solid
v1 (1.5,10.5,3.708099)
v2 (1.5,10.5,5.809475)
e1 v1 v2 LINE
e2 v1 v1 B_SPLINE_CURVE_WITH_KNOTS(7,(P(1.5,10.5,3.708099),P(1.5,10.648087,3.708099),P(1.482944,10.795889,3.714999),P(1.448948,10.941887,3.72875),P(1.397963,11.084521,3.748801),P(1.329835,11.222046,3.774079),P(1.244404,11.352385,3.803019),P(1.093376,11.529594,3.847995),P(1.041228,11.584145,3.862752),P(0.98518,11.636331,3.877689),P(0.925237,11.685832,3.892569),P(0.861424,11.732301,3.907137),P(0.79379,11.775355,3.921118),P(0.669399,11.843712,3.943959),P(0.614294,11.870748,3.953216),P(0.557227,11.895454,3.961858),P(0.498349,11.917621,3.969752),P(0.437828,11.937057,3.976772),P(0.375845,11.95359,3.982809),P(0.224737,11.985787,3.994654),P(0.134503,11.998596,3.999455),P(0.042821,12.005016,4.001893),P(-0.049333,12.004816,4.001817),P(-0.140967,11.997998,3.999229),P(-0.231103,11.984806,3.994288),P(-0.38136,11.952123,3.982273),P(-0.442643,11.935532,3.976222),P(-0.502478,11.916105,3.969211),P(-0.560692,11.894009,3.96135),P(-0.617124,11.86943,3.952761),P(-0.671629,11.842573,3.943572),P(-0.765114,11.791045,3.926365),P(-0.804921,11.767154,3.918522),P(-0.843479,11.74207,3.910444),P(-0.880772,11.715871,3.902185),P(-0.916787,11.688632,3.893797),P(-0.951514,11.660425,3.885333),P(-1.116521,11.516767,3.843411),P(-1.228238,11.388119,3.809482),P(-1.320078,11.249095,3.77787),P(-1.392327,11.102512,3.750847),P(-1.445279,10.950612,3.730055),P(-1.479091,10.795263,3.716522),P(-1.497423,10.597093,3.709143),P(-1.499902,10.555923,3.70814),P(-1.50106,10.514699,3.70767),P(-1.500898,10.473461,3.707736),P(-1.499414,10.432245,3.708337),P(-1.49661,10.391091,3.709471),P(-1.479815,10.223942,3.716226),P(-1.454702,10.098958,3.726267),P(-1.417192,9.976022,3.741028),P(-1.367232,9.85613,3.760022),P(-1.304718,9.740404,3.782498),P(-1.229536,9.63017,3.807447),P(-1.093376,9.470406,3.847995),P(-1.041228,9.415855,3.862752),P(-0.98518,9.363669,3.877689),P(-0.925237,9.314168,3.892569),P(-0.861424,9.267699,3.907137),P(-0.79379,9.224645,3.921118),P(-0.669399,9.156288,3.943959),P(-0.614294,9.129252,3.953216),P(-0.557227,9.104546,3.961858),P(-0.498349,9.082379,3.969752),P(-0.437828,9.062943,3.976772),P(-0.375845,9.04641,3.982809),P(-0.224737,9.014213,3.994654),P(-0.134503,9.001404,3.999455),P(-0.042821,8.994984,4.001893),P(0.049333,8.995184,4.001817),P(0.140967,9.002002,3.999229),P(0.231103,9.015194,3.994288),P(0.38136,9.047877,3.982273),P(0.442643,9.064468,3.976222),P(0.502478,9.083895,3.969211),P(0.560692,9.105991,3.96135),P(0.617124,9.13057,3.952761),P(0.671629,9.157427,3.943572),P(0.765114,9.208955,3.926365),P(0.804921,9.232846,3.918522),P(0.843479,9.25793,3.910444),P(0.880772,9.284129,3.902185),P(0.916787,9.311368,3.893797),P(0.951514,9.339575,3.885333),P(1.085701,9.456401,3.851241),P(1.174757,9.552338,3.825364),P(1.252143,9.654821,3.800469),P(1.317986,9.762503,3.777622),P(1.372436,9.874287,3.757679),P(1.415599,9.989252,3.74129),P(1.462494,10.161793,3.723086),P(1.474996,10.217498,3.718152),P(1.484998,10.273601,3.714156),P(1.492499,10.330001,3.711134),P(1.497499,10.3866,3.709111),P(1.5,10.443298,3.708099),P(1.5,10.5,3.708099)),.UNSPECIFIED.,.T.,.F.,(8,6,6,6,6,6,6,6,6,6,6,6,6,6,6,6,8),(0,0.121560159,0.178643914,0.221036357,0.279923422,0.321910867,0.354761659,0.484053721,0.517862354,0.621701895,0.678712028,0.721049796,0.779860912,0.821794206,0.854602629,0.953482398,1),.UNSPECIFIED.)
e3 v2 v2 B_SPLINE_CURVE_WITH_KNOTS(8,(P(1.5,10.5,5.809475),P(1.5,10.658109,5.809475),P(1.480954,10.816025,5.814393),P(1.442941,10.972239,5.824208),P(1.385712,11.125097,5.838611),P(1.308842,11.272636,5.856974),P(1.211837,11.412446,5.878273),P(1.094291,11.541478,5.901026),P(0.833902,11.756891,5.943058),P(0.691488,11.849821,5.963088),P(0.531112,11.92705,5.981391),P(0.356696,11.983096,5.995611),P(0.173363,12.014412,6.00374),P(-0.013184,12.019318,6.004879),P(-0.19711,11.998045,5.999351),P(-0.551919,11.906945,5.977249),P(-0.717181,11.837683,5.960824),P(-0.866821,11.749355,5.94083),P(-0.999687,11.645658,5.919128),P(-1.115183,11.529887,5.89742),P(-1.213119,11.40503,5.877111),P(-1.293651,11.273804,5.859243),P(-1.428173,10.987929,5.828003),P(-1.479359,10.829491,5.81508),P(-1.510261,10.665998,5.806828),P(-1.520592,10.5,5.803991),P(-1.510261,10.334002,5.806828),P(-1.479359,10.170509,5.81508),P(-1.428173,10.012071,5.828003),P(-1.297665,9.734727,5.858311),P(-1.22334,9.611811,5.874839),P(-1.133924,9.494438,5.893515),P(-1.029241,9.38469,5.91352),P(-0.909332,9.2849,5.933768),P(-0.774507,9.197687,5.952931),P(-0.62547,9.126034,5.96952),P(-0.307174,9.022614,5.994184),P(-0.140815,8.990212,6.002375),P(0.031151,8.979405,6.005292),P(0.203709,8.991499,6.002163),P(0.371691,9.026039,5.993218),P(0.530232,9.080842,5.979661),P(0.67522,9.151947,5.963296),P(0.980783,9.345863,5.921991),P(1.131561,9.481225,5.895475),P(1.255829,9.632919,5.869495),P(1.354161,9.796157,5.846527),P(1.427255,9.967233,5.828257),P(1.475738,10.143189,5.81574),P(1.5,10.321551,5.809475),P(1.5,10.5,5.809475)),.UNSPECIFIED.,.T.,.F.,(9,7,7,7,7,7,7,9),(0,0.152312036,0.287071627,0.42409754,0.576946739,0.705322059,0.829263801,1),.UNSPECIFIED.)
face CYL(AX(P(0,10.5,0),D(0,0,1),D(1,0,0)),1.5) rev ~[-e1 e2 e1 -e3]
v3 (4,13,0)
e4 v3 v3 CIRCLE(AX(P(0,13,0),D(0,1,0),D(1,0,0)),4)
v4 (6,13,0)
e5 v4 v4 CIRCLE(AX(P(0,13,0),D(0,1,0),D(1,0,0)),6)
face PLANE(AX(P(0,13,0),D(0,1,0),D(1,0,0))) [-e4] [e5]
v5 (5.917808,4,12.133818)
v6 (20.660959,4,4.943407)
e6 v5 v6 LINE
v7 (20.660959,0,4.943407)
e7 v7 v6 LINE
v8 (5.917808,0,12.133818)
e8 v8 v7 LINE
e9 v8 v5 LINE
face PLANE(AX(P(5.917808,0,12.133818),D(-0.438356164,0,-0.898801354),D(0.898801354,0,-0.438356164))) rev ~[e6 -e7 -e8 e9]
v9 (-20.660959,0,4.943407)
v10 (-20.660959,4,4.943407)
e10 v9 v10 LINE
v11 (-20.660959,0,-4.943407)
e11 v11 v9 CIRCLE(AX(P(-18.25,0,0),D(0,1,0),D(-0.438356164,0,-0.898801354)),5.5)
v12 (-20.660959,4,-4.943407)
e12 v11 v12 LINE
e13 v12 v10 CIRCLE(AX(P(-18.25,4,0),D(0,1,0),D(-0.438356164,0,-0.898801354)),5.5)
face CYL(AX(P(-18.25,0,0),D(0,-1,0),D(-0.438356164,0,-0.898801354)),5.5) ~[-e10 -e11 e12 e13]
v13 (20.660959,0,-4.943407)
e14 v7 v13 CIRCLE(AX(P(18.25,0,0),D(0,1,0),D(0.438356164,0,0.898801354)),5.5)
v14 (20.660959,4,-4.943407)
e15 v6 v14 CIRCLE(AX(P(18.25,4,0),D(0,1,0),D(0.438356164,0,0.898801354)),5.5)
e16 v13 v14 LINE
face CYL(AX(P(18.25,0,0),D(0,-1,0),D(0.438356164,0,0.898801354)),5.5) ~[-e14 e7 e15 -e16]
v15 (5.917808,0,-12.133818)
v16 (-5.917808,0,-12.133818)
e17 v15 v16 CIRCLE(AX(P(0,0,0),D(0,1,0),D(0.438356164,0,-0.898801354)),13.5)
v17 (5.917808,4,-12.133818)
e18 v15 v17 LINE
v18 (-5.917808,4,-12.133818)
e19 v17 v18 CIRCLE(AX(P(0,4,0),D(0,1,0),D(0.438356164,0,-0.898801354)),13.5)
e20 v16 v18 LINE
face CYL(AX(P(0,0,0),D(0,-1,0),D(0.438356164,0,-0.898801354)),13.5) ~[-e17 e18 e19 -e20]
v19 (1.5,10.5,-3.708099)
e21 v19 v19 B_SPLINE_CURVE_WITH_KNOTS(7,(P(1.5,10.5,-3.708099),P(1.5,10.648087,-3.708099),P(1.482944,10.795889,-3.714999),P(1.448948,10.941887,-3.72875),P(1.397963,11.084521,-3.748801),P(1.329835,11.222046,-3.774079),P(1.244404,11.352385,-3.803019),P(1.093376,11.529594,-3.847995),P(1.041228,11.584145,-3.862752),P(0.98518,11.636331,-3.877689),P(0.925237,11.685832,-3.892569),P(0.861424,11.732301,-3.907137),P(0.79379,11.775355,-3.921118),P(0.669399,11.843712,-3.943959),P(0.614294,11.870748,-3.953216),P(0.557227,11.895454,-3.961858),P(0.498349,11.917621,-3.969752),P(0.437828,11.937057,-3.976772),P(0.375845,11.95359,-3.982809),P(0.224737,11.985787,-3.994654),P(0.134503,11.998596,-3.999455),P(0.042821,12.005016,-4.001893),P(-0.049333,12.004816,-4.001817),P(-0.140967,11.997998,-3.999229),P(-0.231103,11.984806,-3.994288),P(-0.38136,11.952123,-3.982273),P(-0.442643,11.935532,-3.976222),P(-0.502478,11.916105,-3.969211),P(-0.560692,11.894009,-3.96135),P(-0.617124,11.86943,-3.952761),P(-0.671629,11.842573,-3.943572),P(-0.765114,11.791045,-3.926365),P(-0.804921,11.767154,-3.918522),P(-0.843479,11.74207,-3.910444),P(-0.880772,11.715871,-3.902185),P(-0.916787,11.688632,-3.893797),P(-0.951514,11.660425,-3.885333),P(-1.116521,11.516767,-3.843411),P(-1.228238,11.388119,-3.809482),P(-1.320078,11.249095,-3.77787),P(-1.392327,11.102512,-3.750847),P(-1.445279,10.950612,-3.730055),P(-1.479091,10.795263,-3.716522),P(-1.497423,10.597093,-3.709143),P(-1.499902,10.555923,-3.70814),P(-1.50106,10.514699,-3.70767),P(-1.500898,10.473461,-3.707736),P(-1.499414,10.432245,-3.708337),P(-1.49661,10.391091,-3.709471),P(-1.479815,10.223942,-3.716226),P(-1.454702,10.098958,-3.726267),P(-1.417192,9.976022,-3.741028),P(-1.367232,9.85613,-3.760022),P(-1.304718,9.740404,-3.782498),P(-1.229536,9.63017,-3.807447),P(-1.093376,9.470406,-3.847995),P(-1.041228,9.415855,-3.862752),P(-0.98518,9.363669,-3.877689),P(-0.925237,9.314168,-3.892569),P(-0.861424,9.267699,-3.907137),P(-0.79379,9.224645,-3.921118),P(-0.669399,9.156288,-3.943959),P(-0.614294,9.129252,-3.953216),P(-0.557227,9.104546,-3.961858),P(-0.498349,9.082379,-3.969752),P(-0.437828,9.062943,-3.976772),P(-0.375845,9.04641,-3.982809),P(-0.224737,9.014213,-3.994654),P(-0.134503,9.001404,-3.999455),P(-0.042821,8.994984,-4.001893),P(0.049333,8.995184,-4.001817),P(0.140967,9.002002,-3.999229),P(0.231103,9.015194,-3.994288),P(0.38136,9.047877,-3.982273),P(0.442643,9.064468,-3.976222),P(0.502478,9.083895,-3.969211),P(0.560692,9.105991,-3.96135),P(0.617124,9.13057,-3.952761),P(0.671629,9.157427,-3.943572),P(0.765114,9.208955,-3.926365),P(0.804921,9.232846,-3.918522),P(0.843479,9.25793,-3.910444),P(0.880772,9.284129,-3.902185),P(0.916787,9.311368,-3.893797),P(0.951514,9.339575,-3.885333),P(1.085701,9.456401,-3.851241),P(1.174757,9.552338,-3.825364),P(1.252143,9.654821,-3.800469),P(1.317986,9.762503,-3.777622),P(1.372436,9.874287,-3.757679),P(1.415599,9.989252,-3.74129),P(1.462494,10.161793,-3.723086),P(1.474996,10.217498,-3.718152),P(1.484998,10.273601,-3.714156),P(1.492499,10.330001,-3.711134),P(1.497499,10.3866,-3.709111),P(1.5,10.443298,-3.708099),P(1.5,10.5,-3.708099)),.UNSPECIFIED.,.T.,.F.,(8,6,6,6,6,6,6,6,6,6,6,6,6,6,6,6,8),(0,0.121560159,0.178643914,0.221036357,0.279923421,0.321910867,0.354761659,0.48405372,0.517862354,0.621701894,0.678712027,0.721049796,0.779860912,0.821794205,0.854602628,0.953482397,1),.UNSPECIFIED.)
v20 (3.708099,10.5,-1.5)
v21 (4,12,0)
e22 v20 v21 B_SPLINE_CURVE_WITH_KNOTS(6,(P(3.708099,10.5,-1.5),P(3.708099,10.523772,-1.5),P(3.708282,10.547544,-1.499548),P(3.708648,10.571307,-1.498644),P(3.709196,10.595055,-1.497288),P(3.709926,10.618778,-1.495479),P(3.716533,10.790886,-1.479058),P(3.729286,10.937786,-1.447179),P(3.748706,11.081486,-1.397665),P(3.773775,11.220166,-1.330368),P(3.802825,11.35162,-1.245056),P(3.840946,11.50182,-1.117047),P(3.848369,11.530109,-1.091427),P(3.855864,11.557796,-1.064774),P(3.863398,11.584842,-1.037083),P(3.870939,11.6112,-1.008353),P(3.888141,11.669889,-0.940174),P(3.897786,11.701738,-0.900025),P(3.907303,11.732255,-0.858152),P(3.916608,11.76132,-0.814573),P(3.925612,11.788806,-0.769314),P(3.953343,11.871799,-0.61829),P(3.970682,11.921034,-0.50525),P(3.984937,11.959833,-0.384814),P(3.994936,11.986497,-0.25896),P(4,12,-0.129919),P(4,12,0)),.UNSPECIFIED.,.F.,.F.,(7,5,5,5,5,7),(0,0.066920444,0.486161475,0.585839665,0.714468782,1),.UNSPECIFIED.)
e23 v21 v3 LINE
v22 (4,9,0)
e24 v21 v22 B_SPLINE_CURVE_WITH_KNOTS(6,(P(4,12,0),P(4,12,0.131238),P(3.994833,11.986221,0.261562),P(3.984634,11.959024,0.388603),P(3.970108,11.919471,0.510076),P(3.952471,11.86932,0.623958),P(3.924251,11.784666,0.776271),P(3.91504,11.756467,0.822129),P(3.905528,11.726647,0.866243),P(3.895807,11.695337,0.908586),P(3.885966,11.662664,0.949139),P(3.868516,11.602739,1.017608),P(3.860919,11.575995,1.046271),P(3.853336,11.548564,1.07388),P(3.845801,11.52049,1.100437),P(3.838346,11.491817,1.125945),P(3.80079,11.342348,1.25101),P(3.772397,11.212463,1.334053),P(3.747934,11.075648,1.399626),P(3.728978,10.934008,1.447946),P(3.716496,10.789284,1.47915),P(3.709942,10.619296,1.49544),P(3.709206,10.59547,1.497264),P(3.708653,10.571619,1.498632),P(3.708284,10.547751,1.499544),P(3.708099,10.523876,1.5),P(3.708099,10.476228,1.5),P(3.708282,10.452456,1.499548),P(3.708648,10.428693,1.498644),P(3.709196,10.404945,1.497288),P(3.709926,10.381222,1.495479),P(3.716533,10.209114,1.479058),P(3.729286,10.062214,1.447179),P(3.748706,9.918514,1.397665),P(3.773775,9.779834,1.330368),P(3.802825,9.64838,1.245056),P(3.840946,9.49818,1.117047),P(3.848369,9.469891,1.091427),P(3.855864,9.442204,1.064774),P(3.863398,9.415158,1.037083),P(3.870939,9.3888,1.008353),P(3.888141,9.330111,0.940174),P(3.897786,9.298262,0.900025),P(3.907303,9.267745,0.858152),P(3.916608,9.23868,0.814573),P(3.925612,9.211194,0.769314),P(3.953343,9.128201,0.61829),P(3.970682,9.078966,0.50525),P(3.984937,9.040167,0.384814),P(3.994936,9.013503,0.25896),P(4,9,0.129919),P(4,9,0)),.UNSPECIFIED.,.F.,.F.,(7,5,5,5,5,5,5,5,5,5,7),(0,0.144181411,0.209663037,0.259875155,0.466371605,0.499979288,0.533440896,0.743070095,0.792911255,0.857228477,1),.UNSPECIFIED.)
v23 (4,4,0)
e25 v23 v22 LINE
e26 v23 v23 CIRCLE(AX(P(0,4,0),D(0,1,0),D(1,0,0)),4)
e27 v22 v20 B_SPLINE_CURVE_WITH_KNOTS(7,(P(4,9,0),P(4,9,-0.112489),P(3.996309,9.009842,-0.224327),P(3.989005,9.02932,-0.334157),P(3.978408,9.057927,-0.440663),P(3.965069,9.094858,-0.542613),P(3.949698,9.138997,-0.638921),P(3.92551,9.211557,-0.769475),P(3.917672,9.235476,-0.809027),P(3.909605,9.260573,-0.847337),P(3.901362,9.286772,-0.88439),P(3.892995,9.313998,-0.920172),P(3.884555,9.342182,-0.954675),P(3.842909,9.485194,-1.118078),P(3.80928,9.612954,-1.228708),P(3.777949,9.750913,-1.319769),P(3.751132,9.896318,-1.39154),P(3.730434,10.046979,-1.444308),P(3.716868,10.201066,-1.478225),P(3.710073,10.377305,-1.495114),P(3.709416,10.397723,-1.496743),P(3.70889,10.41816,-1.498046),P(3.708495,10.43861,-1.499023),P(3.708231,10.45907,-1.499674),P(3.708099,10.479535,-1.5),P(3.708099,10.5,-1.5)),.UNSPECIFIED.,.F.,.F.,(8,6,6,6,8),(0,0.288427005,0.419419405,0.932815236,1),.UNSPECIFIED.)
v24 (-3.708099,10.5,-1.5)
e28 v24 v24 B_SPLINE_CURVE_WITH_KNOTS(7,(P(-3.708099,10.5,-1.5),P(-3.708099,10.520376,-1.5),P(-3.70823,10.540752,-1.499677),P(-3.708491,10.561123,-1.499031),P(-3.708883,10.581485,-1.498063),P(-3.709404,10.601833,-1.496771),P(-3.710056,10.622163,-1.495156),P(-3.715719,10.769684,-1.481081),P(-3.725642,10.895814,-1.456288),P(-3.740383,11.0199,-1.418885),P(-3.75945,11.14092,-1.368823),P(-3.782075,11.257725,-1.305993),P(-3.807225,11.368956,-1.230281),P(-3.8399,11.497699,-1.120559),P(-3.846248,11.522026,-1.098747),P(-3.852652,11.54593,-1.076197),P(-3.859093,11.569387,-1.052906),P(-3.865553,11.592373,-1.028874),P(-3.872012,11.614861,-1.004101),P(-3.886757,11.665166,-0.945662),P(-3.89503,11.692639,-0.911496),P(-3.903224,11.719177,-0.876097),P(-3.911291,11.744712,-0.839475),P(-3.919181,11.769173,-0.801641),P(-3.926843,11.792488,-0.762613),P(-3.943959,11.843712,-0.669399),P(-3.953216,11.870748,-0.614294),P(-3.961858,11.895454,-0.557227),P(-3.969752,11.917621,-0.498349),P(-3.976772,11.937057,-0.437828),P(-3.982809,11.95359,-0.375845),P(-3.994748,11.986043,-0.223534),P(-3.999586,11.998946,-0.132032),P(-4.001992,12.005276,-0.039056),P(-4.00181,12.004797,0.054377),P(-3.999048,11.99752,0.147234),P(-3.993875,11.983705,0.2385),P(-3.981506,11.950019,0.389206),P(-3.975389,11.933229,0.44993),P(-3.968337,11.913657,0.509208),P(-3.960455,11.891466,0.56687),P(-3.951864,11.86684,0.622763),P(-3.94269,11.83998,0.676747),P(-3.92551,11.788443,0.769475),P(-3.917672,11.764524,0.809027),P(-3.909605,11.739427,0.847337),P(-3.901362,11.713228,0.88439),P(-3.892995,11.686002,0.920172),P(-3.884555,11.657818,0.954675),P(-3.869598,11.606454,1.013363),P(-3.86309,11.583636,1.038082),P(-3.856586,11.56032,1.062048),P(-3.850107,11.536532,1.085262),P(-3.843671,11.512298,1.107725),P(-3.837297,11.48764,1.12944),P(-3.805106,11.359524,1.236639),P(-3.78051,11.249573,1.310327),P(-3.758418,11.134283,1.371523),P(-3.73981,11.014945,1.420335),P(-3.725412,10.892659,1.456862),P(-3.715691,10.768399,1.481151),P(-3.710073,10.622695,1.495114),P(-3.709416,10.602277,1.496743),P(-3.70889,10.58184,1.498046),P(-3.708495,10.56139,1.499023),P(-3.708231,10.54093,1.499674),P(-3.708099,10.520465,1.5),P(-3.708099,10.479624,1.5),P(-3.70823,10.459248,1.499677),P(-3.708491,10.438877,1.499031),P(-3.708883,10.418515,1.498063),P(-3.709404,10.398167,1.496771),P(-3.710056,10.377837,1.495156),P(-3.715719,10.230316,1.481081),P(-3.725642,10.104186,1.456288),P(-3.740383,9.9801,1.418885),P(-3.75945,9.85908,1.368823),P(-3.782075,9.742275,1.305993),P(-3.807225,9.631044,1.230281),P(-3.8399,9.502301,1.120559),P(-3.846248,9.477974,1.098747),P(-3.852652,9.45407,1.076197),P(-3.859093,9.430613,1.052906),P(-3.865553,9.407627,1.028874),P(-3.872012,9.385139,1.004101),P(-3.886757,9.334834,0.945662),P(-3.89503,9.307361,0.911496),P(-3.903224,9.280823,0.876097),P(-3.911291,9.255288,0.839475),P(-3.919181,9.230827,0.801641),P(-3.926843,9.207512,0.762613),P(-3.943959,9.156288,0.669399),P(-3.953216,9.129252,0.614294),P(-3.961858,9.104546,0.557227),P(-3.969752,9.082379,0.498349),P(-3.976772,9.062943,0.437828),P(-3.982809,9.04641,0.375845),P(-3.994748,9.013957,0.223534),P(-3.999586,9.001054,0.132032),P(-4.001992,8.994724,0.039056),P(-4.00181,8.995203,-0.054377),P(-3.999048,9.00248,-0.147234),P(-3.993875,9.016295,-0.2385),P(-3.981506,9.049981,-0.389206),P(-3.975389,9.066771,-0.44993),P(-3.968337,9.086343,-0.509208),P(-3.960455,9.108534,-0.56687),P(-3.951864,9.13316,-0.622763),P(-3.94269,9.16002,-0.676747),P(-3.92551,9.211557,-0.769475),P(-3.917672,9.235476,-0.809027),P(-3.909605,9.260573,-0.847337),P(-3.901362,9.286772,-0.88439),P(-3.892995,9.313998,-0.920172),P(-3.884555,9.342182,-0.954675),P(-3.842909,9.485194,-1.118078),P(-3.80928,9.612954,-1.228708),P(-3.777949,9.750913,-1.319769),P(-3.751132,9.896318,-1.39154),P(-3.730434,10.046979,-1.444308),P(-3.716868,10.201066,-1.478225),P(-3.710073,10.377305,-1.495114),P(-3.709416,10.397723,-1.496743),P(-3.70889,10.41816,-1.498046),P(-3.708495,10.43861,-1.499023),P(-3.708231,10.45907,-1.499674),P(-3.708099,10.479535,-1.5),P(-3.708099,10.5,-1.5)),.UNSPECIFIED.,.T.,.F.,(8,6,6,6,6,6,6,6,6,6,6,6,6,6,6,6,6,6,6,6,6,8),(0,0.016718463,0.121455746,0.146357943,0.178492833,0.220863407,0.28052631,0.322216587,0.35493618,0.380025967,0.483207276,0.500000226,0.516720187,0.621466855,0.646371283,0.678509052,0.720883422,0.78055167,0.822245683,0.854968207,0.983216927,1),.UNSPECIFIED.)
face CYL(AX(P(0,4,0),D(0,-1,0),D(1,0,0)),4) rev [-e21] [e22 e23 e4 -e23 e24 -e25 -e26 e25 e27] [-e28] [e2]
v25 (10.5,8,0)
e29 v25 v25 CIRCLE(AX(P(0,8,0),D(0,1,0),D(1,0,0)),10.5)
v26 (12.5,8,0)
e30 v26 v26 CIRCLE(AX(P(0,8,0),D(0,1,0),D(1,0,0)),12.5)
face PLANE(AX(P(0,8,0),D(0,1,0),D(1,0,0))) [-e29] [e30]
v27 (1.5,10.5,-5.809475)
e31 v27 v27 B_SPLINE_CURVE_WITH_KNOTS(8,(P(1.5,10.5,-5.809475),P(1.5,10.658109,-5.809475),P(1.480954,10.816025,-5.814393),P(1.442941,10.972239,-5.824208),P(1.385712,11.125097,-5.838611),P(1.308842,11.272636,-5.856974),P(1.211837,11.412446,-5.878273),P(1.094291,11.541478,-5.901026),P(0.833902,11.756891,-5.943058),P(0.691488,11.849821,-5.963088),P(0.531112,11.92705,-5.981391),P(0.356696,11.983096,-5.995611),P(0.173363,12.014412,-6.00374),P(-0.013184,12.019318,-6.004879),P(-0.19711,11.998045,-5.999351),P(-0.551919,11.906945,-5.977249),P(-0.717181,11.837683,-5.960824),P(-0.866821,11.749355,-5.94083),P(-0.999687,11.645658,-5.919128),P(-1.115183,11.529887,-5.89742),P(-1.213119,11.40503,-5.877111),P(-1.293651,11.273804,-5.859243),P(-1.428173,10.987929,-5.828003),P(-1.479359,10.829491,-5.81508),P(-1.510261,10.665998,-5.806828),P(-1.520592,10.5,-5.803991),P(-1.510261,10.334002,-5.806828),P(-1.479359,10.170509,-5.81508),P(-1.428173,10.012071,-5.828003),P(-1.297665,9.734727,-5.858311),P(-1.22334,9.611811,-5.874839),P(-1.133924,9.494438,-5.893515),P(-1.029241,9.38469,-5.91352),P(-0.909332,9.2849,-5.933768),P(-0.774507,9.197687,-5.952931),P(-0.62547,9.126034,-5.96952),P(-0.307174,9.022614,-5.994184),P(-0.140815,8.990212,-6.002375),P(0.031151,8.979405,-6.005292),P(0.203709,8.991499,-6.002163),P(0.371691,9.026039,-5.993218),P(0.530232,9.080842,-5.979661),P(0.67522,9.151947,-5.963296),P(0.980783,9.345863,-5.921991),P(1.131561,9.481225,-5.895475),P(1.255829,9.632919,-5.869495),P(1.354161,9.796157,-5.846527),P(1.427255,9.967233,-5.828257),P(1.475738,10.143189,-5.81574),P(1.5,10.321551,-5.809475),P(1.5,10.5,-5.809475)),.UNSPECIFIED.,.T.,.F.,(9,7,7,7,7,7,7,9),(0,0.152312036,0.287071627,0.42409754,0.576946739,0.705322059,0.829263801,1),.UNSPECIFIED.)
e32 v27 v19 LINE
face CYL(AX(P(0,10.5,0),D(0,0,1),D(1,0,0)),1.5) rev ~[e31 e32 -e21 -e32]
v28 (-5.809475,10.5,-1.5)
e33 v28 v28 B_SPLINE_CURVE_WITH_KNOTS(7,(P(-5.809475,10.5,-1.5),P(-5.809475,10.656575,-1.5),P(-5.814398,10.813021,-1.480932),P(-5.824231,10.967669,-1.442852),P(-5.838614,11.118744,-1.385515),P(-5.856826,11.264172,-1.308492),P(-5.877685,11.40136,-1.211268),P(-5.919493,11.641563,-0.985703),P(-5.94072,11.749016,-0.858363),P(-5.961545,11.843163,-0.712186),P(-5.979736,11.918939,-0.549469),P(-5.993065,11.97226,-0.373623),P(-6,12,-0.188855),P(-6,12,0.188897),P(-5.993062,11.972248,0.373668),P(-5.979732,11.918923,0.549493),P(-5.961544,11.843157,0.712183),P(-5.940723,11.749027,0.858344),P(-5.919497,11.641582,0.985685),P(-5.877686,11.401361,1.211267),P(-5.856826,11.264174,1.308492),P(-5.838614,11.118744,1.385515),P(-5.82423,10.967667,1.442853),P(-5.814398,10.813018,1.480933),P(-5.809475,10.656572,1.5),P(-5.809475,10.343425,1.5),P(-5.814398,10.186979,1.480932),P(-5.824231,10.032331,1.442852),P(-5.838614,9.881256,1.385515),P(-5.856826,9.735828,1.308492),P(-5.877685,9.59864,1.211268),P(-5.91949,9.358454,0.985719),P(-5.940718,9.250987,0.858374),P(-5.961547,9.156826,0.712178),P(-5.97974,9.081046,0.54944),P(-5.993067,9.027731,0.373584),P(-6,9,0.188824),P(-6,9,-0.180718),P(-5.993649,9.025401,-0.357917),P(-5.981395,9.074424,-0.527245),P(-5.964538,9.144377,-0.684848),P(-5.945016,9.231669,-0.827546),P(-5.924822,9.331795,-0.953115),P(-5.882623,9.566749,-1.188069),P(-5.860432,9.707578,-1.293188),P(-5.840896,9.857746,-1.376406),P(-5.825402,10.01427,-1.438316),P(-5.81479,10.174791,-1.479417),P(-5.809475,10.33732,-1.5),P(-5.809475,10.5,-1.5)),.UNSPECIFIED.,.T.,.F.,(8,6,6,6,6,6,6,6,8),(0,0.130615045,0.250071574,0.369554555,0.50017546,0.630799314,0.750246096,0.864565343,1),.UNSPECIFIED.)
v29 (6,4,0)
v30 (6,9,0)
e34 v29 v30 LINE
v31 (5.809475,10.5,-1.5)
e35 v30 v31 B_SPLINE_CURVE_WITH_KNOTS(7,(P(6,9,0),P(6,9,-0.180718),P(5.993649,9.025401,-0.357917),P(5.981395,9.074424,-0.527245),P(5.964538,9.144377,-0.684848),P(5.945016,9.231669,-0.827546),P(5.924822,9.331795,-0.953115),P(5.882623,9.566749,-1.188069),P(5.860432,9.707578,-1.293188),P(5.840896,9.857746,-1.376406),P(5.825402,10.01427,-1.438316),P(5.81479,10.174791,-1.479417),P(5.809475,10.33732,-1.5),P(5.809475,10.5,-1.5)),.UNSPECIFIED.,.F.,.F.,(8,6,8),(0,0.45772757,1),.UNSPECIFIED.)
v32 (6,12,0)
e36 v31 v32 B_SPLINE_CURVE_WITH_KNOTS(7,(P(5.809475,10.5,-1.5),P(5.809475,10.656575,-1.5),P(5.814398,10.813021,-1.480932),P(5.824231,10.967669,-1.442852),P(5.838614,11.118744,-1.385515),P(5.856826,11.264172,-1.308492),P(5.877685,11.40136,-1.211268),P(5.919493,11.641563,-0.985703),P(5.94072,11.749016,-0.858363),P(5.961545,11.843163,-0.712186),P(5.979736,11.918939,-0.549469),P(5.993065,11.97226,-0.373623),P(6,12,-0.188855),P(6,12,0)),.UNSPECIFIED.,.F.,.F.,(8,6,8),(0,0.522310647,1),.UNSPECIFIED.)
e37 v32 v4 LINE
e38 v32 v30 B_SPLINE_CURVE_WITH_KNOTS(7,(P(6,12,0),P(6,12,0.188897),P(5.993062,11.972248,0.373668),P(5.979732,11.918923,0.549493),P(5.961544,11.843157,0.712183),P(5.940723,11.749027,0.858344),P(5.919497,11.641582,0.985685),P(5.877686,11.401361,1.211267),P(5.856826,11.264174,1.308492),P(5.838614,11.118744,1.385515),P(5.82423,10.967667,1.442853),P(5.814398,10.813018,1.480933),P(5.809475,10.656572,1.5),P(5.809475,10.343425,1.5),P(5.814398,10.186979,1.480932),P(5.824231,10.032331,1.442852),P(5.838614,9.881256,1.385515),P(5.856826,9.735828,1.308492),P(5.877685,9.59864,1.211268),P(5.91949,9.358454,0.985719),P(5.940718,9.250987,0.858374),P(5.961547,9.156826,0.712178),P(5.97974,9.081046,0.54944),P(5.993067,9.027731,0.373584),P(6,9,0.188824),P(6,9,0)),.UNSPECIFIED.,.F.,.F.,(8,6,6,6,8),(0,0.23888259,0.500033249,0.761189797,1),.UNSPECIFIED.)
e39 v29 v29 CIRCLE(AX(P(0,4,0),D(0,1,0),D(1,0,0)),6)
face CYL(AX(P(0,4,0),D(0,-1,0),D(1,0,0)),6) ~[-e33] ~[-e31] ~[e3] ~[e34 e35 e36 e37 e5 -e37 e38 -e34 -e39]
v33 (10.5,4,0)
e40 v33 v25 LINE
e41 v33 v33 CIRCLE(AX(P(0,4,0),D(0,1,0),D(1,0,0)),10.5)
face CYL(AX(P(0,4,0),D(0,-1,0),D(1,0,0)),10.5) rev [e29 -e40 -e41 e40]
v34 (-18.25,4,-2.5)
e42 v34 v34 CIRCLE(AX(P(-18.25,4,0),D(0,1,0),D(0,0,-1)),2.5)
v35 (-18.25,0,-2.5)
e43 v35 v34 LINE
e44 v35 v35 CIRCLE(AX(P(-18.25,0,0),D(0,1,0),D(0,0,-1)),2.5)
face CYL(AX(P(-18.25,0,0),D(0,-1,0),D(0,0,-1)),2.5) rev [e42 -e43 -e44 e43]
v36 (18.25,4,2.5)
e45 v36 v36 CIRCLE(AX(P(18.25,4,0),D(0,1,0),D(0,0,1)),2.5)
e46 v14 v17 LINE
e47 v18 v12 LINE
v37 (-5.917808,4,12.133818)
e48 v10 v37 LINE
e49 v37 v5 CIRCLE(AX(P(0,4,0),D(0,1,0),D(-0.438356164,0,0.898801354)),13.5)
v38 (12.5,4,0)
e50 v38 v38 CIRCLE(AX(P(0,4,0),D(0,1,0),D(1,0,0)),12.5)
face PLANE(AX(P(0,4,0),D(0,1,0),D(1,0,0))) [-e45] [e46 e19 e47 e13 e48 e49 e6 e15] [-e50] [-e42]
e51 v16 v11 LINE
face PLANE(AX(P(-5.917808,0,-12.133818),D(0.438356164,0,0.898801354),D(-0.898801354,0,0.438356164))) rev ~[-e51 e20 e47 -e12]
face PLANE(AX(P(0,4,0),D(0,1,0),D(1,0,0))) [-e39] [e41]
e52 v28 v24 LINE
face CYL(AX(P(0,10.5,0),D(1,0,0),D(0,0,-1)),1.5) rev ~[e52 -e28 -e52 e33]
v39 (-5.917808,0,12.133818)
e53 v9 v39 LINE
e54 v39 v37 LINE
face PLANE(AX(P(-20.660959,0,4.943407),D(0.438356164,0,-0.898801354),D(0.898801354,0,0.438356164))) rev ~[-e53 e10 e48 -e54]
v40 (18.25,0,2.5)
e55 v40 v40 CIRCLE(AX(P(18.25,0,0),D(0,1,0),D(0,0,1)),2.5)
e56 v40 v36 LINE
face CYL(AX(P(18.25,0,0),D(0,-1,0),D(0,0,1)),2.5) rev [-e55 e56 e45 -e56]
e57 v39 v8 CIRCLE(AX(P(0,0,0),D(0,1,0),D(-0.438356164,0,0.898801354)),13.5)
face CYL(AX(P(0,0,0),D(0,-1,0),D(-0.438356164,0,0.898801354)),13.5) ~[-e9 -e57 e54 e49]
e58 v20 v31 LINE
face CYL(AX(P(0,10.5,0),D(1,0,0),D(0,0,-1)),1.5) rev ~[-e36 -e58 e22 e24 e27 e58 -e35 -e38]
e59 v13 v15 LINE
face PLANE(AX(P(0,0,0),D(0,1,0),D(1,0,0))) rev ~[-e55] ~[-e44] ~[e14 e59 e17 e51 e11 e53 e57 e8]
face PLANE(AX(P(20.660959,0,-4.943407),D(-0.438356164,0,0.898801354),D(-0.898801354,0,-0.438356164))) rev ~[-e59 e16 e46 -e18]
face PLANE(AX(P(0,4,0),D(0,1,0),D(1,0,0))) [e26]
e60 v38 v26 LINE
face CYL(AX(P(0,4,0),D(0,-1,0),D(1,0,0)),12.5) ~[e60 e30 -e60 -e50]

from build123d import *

# Parameters (mm, degrees)
SKETCH1_R           = 2.5
BOSS_EXTRUDE1_DEPTH = 4
SKETCH2_R           = 12.5
SKETCH2_R_2         = 10.5
EXTRUDE_THIN1_DEPTH = 4
SKETCH3_R           = 6
SKETCH3_R_2         = 4
EXTRUDE_THIN2_DEPTH = 9
SKETCH4_R           = 1.5
CUT_EXTRUDE1_DEPTH  = 31.254131949
CIRPATTERN1_COUNT   = 2
CIRPATTERN1_ANGLE   = 90


with BuildPart() as part:
    # Sketch1 → Boss-Extrude1 (new body)
    with BuildSketch(Plane(origin=(0, 0, 0), x_dir=(1, 0, 0), z_dir=(0, 1, 0))):
        with BuildLine():
            Line((20.660958904, 4.943407445), (5.917808219, 12.133818273))
            ThreePointArc((5.917808219, 12.133818273), (0, 13.5), (-5.917808219, 12.133818273))
            Line((-5.917808219, 12.133818273), (-20.660958904, 4.943407445))
            ThreePointArc((-20.660958904, 4.943407445), (-23.75, 0), (-20.660958904, -4.943407445))
            Line((-20.660958904, -4.943407445), (-5.917808219, -12.133818273))
            ThreePointArc((-5.917808219, -12.133818273), (0, -13.5), (5.917808219, -12.133818273))
            Line((5.917808219, -12.133818273), (20.660958904, -4.943407445))
            ThreePointArc((20.660958904, -4.943407445), (23.75, 0), (20.660958904, 4.943407445))
        make_face()
        with Locations(Location((18.25, 0, 0), (0, 0, 270))):
            Circle(SKETCH1_R, mode=Mode.SUBTRACT)
        with Locations(Location((-18.25, 0, 0), (0, 0, 90))):
            Circle(SKETCH1_R, mode=Mode.SUBTRACT)
    extrude(amount=BOSS_EXTRUDE1_DEPTH)

    # Sketch2 → Extrude-Thin1 (add)
    with BuildSketch(Plane(origin=(0, 4, 0), x_dir=(1, 0, 0), z_dir=(0, 1, 0))):
        Circle(SKETCH2_R)
        Circle(SKETCH2_R_2, mode=Mode.SUBTRACT)
    extrude(amount=EXTRUDE_THIN1_DEPTH)

    # Sketch3 → Extrude-Thin2 (add)
    with BuildSketch(Plane(origin=(0, 4, 0), x_dir=(1, 0, 0), z_dir=(0, 1, 0))):
        Circle(SKETCH3_R)
        Circle(SKETCH3_R_2, mode=Mode.SUBTRACT)
    extrude(amount=EXTRUDE_THIN2_DEPTH)

    # Sketch4 → Cut-Extrude1 (cut, symmetric)
    with BuildSketch(Plane.XY):
        with Locations((0, 10.5)):
            Circle(SKETCH4_R)
    cut_extrude1 = extrude(amount=CUT_EXTRUDE1_DEPTH, both=True, mode=Mode.SUBTRACT)

    # CirPattern1: Cut-Extrude1 ×2 about axis
    cirpattern1_axis = Axis((0, 13, 0), (0, 1, 0))
    for i in range(1, CIRPATTERN1_COUNT):
        add(cut_extrude1.rotate(cirpattern1_axis, i * CIRPATTERN1_ANGLE / (CIRPATTERN1_COUNT - 1)), mode=Mode.SUBTRACT)


solid = part.part
